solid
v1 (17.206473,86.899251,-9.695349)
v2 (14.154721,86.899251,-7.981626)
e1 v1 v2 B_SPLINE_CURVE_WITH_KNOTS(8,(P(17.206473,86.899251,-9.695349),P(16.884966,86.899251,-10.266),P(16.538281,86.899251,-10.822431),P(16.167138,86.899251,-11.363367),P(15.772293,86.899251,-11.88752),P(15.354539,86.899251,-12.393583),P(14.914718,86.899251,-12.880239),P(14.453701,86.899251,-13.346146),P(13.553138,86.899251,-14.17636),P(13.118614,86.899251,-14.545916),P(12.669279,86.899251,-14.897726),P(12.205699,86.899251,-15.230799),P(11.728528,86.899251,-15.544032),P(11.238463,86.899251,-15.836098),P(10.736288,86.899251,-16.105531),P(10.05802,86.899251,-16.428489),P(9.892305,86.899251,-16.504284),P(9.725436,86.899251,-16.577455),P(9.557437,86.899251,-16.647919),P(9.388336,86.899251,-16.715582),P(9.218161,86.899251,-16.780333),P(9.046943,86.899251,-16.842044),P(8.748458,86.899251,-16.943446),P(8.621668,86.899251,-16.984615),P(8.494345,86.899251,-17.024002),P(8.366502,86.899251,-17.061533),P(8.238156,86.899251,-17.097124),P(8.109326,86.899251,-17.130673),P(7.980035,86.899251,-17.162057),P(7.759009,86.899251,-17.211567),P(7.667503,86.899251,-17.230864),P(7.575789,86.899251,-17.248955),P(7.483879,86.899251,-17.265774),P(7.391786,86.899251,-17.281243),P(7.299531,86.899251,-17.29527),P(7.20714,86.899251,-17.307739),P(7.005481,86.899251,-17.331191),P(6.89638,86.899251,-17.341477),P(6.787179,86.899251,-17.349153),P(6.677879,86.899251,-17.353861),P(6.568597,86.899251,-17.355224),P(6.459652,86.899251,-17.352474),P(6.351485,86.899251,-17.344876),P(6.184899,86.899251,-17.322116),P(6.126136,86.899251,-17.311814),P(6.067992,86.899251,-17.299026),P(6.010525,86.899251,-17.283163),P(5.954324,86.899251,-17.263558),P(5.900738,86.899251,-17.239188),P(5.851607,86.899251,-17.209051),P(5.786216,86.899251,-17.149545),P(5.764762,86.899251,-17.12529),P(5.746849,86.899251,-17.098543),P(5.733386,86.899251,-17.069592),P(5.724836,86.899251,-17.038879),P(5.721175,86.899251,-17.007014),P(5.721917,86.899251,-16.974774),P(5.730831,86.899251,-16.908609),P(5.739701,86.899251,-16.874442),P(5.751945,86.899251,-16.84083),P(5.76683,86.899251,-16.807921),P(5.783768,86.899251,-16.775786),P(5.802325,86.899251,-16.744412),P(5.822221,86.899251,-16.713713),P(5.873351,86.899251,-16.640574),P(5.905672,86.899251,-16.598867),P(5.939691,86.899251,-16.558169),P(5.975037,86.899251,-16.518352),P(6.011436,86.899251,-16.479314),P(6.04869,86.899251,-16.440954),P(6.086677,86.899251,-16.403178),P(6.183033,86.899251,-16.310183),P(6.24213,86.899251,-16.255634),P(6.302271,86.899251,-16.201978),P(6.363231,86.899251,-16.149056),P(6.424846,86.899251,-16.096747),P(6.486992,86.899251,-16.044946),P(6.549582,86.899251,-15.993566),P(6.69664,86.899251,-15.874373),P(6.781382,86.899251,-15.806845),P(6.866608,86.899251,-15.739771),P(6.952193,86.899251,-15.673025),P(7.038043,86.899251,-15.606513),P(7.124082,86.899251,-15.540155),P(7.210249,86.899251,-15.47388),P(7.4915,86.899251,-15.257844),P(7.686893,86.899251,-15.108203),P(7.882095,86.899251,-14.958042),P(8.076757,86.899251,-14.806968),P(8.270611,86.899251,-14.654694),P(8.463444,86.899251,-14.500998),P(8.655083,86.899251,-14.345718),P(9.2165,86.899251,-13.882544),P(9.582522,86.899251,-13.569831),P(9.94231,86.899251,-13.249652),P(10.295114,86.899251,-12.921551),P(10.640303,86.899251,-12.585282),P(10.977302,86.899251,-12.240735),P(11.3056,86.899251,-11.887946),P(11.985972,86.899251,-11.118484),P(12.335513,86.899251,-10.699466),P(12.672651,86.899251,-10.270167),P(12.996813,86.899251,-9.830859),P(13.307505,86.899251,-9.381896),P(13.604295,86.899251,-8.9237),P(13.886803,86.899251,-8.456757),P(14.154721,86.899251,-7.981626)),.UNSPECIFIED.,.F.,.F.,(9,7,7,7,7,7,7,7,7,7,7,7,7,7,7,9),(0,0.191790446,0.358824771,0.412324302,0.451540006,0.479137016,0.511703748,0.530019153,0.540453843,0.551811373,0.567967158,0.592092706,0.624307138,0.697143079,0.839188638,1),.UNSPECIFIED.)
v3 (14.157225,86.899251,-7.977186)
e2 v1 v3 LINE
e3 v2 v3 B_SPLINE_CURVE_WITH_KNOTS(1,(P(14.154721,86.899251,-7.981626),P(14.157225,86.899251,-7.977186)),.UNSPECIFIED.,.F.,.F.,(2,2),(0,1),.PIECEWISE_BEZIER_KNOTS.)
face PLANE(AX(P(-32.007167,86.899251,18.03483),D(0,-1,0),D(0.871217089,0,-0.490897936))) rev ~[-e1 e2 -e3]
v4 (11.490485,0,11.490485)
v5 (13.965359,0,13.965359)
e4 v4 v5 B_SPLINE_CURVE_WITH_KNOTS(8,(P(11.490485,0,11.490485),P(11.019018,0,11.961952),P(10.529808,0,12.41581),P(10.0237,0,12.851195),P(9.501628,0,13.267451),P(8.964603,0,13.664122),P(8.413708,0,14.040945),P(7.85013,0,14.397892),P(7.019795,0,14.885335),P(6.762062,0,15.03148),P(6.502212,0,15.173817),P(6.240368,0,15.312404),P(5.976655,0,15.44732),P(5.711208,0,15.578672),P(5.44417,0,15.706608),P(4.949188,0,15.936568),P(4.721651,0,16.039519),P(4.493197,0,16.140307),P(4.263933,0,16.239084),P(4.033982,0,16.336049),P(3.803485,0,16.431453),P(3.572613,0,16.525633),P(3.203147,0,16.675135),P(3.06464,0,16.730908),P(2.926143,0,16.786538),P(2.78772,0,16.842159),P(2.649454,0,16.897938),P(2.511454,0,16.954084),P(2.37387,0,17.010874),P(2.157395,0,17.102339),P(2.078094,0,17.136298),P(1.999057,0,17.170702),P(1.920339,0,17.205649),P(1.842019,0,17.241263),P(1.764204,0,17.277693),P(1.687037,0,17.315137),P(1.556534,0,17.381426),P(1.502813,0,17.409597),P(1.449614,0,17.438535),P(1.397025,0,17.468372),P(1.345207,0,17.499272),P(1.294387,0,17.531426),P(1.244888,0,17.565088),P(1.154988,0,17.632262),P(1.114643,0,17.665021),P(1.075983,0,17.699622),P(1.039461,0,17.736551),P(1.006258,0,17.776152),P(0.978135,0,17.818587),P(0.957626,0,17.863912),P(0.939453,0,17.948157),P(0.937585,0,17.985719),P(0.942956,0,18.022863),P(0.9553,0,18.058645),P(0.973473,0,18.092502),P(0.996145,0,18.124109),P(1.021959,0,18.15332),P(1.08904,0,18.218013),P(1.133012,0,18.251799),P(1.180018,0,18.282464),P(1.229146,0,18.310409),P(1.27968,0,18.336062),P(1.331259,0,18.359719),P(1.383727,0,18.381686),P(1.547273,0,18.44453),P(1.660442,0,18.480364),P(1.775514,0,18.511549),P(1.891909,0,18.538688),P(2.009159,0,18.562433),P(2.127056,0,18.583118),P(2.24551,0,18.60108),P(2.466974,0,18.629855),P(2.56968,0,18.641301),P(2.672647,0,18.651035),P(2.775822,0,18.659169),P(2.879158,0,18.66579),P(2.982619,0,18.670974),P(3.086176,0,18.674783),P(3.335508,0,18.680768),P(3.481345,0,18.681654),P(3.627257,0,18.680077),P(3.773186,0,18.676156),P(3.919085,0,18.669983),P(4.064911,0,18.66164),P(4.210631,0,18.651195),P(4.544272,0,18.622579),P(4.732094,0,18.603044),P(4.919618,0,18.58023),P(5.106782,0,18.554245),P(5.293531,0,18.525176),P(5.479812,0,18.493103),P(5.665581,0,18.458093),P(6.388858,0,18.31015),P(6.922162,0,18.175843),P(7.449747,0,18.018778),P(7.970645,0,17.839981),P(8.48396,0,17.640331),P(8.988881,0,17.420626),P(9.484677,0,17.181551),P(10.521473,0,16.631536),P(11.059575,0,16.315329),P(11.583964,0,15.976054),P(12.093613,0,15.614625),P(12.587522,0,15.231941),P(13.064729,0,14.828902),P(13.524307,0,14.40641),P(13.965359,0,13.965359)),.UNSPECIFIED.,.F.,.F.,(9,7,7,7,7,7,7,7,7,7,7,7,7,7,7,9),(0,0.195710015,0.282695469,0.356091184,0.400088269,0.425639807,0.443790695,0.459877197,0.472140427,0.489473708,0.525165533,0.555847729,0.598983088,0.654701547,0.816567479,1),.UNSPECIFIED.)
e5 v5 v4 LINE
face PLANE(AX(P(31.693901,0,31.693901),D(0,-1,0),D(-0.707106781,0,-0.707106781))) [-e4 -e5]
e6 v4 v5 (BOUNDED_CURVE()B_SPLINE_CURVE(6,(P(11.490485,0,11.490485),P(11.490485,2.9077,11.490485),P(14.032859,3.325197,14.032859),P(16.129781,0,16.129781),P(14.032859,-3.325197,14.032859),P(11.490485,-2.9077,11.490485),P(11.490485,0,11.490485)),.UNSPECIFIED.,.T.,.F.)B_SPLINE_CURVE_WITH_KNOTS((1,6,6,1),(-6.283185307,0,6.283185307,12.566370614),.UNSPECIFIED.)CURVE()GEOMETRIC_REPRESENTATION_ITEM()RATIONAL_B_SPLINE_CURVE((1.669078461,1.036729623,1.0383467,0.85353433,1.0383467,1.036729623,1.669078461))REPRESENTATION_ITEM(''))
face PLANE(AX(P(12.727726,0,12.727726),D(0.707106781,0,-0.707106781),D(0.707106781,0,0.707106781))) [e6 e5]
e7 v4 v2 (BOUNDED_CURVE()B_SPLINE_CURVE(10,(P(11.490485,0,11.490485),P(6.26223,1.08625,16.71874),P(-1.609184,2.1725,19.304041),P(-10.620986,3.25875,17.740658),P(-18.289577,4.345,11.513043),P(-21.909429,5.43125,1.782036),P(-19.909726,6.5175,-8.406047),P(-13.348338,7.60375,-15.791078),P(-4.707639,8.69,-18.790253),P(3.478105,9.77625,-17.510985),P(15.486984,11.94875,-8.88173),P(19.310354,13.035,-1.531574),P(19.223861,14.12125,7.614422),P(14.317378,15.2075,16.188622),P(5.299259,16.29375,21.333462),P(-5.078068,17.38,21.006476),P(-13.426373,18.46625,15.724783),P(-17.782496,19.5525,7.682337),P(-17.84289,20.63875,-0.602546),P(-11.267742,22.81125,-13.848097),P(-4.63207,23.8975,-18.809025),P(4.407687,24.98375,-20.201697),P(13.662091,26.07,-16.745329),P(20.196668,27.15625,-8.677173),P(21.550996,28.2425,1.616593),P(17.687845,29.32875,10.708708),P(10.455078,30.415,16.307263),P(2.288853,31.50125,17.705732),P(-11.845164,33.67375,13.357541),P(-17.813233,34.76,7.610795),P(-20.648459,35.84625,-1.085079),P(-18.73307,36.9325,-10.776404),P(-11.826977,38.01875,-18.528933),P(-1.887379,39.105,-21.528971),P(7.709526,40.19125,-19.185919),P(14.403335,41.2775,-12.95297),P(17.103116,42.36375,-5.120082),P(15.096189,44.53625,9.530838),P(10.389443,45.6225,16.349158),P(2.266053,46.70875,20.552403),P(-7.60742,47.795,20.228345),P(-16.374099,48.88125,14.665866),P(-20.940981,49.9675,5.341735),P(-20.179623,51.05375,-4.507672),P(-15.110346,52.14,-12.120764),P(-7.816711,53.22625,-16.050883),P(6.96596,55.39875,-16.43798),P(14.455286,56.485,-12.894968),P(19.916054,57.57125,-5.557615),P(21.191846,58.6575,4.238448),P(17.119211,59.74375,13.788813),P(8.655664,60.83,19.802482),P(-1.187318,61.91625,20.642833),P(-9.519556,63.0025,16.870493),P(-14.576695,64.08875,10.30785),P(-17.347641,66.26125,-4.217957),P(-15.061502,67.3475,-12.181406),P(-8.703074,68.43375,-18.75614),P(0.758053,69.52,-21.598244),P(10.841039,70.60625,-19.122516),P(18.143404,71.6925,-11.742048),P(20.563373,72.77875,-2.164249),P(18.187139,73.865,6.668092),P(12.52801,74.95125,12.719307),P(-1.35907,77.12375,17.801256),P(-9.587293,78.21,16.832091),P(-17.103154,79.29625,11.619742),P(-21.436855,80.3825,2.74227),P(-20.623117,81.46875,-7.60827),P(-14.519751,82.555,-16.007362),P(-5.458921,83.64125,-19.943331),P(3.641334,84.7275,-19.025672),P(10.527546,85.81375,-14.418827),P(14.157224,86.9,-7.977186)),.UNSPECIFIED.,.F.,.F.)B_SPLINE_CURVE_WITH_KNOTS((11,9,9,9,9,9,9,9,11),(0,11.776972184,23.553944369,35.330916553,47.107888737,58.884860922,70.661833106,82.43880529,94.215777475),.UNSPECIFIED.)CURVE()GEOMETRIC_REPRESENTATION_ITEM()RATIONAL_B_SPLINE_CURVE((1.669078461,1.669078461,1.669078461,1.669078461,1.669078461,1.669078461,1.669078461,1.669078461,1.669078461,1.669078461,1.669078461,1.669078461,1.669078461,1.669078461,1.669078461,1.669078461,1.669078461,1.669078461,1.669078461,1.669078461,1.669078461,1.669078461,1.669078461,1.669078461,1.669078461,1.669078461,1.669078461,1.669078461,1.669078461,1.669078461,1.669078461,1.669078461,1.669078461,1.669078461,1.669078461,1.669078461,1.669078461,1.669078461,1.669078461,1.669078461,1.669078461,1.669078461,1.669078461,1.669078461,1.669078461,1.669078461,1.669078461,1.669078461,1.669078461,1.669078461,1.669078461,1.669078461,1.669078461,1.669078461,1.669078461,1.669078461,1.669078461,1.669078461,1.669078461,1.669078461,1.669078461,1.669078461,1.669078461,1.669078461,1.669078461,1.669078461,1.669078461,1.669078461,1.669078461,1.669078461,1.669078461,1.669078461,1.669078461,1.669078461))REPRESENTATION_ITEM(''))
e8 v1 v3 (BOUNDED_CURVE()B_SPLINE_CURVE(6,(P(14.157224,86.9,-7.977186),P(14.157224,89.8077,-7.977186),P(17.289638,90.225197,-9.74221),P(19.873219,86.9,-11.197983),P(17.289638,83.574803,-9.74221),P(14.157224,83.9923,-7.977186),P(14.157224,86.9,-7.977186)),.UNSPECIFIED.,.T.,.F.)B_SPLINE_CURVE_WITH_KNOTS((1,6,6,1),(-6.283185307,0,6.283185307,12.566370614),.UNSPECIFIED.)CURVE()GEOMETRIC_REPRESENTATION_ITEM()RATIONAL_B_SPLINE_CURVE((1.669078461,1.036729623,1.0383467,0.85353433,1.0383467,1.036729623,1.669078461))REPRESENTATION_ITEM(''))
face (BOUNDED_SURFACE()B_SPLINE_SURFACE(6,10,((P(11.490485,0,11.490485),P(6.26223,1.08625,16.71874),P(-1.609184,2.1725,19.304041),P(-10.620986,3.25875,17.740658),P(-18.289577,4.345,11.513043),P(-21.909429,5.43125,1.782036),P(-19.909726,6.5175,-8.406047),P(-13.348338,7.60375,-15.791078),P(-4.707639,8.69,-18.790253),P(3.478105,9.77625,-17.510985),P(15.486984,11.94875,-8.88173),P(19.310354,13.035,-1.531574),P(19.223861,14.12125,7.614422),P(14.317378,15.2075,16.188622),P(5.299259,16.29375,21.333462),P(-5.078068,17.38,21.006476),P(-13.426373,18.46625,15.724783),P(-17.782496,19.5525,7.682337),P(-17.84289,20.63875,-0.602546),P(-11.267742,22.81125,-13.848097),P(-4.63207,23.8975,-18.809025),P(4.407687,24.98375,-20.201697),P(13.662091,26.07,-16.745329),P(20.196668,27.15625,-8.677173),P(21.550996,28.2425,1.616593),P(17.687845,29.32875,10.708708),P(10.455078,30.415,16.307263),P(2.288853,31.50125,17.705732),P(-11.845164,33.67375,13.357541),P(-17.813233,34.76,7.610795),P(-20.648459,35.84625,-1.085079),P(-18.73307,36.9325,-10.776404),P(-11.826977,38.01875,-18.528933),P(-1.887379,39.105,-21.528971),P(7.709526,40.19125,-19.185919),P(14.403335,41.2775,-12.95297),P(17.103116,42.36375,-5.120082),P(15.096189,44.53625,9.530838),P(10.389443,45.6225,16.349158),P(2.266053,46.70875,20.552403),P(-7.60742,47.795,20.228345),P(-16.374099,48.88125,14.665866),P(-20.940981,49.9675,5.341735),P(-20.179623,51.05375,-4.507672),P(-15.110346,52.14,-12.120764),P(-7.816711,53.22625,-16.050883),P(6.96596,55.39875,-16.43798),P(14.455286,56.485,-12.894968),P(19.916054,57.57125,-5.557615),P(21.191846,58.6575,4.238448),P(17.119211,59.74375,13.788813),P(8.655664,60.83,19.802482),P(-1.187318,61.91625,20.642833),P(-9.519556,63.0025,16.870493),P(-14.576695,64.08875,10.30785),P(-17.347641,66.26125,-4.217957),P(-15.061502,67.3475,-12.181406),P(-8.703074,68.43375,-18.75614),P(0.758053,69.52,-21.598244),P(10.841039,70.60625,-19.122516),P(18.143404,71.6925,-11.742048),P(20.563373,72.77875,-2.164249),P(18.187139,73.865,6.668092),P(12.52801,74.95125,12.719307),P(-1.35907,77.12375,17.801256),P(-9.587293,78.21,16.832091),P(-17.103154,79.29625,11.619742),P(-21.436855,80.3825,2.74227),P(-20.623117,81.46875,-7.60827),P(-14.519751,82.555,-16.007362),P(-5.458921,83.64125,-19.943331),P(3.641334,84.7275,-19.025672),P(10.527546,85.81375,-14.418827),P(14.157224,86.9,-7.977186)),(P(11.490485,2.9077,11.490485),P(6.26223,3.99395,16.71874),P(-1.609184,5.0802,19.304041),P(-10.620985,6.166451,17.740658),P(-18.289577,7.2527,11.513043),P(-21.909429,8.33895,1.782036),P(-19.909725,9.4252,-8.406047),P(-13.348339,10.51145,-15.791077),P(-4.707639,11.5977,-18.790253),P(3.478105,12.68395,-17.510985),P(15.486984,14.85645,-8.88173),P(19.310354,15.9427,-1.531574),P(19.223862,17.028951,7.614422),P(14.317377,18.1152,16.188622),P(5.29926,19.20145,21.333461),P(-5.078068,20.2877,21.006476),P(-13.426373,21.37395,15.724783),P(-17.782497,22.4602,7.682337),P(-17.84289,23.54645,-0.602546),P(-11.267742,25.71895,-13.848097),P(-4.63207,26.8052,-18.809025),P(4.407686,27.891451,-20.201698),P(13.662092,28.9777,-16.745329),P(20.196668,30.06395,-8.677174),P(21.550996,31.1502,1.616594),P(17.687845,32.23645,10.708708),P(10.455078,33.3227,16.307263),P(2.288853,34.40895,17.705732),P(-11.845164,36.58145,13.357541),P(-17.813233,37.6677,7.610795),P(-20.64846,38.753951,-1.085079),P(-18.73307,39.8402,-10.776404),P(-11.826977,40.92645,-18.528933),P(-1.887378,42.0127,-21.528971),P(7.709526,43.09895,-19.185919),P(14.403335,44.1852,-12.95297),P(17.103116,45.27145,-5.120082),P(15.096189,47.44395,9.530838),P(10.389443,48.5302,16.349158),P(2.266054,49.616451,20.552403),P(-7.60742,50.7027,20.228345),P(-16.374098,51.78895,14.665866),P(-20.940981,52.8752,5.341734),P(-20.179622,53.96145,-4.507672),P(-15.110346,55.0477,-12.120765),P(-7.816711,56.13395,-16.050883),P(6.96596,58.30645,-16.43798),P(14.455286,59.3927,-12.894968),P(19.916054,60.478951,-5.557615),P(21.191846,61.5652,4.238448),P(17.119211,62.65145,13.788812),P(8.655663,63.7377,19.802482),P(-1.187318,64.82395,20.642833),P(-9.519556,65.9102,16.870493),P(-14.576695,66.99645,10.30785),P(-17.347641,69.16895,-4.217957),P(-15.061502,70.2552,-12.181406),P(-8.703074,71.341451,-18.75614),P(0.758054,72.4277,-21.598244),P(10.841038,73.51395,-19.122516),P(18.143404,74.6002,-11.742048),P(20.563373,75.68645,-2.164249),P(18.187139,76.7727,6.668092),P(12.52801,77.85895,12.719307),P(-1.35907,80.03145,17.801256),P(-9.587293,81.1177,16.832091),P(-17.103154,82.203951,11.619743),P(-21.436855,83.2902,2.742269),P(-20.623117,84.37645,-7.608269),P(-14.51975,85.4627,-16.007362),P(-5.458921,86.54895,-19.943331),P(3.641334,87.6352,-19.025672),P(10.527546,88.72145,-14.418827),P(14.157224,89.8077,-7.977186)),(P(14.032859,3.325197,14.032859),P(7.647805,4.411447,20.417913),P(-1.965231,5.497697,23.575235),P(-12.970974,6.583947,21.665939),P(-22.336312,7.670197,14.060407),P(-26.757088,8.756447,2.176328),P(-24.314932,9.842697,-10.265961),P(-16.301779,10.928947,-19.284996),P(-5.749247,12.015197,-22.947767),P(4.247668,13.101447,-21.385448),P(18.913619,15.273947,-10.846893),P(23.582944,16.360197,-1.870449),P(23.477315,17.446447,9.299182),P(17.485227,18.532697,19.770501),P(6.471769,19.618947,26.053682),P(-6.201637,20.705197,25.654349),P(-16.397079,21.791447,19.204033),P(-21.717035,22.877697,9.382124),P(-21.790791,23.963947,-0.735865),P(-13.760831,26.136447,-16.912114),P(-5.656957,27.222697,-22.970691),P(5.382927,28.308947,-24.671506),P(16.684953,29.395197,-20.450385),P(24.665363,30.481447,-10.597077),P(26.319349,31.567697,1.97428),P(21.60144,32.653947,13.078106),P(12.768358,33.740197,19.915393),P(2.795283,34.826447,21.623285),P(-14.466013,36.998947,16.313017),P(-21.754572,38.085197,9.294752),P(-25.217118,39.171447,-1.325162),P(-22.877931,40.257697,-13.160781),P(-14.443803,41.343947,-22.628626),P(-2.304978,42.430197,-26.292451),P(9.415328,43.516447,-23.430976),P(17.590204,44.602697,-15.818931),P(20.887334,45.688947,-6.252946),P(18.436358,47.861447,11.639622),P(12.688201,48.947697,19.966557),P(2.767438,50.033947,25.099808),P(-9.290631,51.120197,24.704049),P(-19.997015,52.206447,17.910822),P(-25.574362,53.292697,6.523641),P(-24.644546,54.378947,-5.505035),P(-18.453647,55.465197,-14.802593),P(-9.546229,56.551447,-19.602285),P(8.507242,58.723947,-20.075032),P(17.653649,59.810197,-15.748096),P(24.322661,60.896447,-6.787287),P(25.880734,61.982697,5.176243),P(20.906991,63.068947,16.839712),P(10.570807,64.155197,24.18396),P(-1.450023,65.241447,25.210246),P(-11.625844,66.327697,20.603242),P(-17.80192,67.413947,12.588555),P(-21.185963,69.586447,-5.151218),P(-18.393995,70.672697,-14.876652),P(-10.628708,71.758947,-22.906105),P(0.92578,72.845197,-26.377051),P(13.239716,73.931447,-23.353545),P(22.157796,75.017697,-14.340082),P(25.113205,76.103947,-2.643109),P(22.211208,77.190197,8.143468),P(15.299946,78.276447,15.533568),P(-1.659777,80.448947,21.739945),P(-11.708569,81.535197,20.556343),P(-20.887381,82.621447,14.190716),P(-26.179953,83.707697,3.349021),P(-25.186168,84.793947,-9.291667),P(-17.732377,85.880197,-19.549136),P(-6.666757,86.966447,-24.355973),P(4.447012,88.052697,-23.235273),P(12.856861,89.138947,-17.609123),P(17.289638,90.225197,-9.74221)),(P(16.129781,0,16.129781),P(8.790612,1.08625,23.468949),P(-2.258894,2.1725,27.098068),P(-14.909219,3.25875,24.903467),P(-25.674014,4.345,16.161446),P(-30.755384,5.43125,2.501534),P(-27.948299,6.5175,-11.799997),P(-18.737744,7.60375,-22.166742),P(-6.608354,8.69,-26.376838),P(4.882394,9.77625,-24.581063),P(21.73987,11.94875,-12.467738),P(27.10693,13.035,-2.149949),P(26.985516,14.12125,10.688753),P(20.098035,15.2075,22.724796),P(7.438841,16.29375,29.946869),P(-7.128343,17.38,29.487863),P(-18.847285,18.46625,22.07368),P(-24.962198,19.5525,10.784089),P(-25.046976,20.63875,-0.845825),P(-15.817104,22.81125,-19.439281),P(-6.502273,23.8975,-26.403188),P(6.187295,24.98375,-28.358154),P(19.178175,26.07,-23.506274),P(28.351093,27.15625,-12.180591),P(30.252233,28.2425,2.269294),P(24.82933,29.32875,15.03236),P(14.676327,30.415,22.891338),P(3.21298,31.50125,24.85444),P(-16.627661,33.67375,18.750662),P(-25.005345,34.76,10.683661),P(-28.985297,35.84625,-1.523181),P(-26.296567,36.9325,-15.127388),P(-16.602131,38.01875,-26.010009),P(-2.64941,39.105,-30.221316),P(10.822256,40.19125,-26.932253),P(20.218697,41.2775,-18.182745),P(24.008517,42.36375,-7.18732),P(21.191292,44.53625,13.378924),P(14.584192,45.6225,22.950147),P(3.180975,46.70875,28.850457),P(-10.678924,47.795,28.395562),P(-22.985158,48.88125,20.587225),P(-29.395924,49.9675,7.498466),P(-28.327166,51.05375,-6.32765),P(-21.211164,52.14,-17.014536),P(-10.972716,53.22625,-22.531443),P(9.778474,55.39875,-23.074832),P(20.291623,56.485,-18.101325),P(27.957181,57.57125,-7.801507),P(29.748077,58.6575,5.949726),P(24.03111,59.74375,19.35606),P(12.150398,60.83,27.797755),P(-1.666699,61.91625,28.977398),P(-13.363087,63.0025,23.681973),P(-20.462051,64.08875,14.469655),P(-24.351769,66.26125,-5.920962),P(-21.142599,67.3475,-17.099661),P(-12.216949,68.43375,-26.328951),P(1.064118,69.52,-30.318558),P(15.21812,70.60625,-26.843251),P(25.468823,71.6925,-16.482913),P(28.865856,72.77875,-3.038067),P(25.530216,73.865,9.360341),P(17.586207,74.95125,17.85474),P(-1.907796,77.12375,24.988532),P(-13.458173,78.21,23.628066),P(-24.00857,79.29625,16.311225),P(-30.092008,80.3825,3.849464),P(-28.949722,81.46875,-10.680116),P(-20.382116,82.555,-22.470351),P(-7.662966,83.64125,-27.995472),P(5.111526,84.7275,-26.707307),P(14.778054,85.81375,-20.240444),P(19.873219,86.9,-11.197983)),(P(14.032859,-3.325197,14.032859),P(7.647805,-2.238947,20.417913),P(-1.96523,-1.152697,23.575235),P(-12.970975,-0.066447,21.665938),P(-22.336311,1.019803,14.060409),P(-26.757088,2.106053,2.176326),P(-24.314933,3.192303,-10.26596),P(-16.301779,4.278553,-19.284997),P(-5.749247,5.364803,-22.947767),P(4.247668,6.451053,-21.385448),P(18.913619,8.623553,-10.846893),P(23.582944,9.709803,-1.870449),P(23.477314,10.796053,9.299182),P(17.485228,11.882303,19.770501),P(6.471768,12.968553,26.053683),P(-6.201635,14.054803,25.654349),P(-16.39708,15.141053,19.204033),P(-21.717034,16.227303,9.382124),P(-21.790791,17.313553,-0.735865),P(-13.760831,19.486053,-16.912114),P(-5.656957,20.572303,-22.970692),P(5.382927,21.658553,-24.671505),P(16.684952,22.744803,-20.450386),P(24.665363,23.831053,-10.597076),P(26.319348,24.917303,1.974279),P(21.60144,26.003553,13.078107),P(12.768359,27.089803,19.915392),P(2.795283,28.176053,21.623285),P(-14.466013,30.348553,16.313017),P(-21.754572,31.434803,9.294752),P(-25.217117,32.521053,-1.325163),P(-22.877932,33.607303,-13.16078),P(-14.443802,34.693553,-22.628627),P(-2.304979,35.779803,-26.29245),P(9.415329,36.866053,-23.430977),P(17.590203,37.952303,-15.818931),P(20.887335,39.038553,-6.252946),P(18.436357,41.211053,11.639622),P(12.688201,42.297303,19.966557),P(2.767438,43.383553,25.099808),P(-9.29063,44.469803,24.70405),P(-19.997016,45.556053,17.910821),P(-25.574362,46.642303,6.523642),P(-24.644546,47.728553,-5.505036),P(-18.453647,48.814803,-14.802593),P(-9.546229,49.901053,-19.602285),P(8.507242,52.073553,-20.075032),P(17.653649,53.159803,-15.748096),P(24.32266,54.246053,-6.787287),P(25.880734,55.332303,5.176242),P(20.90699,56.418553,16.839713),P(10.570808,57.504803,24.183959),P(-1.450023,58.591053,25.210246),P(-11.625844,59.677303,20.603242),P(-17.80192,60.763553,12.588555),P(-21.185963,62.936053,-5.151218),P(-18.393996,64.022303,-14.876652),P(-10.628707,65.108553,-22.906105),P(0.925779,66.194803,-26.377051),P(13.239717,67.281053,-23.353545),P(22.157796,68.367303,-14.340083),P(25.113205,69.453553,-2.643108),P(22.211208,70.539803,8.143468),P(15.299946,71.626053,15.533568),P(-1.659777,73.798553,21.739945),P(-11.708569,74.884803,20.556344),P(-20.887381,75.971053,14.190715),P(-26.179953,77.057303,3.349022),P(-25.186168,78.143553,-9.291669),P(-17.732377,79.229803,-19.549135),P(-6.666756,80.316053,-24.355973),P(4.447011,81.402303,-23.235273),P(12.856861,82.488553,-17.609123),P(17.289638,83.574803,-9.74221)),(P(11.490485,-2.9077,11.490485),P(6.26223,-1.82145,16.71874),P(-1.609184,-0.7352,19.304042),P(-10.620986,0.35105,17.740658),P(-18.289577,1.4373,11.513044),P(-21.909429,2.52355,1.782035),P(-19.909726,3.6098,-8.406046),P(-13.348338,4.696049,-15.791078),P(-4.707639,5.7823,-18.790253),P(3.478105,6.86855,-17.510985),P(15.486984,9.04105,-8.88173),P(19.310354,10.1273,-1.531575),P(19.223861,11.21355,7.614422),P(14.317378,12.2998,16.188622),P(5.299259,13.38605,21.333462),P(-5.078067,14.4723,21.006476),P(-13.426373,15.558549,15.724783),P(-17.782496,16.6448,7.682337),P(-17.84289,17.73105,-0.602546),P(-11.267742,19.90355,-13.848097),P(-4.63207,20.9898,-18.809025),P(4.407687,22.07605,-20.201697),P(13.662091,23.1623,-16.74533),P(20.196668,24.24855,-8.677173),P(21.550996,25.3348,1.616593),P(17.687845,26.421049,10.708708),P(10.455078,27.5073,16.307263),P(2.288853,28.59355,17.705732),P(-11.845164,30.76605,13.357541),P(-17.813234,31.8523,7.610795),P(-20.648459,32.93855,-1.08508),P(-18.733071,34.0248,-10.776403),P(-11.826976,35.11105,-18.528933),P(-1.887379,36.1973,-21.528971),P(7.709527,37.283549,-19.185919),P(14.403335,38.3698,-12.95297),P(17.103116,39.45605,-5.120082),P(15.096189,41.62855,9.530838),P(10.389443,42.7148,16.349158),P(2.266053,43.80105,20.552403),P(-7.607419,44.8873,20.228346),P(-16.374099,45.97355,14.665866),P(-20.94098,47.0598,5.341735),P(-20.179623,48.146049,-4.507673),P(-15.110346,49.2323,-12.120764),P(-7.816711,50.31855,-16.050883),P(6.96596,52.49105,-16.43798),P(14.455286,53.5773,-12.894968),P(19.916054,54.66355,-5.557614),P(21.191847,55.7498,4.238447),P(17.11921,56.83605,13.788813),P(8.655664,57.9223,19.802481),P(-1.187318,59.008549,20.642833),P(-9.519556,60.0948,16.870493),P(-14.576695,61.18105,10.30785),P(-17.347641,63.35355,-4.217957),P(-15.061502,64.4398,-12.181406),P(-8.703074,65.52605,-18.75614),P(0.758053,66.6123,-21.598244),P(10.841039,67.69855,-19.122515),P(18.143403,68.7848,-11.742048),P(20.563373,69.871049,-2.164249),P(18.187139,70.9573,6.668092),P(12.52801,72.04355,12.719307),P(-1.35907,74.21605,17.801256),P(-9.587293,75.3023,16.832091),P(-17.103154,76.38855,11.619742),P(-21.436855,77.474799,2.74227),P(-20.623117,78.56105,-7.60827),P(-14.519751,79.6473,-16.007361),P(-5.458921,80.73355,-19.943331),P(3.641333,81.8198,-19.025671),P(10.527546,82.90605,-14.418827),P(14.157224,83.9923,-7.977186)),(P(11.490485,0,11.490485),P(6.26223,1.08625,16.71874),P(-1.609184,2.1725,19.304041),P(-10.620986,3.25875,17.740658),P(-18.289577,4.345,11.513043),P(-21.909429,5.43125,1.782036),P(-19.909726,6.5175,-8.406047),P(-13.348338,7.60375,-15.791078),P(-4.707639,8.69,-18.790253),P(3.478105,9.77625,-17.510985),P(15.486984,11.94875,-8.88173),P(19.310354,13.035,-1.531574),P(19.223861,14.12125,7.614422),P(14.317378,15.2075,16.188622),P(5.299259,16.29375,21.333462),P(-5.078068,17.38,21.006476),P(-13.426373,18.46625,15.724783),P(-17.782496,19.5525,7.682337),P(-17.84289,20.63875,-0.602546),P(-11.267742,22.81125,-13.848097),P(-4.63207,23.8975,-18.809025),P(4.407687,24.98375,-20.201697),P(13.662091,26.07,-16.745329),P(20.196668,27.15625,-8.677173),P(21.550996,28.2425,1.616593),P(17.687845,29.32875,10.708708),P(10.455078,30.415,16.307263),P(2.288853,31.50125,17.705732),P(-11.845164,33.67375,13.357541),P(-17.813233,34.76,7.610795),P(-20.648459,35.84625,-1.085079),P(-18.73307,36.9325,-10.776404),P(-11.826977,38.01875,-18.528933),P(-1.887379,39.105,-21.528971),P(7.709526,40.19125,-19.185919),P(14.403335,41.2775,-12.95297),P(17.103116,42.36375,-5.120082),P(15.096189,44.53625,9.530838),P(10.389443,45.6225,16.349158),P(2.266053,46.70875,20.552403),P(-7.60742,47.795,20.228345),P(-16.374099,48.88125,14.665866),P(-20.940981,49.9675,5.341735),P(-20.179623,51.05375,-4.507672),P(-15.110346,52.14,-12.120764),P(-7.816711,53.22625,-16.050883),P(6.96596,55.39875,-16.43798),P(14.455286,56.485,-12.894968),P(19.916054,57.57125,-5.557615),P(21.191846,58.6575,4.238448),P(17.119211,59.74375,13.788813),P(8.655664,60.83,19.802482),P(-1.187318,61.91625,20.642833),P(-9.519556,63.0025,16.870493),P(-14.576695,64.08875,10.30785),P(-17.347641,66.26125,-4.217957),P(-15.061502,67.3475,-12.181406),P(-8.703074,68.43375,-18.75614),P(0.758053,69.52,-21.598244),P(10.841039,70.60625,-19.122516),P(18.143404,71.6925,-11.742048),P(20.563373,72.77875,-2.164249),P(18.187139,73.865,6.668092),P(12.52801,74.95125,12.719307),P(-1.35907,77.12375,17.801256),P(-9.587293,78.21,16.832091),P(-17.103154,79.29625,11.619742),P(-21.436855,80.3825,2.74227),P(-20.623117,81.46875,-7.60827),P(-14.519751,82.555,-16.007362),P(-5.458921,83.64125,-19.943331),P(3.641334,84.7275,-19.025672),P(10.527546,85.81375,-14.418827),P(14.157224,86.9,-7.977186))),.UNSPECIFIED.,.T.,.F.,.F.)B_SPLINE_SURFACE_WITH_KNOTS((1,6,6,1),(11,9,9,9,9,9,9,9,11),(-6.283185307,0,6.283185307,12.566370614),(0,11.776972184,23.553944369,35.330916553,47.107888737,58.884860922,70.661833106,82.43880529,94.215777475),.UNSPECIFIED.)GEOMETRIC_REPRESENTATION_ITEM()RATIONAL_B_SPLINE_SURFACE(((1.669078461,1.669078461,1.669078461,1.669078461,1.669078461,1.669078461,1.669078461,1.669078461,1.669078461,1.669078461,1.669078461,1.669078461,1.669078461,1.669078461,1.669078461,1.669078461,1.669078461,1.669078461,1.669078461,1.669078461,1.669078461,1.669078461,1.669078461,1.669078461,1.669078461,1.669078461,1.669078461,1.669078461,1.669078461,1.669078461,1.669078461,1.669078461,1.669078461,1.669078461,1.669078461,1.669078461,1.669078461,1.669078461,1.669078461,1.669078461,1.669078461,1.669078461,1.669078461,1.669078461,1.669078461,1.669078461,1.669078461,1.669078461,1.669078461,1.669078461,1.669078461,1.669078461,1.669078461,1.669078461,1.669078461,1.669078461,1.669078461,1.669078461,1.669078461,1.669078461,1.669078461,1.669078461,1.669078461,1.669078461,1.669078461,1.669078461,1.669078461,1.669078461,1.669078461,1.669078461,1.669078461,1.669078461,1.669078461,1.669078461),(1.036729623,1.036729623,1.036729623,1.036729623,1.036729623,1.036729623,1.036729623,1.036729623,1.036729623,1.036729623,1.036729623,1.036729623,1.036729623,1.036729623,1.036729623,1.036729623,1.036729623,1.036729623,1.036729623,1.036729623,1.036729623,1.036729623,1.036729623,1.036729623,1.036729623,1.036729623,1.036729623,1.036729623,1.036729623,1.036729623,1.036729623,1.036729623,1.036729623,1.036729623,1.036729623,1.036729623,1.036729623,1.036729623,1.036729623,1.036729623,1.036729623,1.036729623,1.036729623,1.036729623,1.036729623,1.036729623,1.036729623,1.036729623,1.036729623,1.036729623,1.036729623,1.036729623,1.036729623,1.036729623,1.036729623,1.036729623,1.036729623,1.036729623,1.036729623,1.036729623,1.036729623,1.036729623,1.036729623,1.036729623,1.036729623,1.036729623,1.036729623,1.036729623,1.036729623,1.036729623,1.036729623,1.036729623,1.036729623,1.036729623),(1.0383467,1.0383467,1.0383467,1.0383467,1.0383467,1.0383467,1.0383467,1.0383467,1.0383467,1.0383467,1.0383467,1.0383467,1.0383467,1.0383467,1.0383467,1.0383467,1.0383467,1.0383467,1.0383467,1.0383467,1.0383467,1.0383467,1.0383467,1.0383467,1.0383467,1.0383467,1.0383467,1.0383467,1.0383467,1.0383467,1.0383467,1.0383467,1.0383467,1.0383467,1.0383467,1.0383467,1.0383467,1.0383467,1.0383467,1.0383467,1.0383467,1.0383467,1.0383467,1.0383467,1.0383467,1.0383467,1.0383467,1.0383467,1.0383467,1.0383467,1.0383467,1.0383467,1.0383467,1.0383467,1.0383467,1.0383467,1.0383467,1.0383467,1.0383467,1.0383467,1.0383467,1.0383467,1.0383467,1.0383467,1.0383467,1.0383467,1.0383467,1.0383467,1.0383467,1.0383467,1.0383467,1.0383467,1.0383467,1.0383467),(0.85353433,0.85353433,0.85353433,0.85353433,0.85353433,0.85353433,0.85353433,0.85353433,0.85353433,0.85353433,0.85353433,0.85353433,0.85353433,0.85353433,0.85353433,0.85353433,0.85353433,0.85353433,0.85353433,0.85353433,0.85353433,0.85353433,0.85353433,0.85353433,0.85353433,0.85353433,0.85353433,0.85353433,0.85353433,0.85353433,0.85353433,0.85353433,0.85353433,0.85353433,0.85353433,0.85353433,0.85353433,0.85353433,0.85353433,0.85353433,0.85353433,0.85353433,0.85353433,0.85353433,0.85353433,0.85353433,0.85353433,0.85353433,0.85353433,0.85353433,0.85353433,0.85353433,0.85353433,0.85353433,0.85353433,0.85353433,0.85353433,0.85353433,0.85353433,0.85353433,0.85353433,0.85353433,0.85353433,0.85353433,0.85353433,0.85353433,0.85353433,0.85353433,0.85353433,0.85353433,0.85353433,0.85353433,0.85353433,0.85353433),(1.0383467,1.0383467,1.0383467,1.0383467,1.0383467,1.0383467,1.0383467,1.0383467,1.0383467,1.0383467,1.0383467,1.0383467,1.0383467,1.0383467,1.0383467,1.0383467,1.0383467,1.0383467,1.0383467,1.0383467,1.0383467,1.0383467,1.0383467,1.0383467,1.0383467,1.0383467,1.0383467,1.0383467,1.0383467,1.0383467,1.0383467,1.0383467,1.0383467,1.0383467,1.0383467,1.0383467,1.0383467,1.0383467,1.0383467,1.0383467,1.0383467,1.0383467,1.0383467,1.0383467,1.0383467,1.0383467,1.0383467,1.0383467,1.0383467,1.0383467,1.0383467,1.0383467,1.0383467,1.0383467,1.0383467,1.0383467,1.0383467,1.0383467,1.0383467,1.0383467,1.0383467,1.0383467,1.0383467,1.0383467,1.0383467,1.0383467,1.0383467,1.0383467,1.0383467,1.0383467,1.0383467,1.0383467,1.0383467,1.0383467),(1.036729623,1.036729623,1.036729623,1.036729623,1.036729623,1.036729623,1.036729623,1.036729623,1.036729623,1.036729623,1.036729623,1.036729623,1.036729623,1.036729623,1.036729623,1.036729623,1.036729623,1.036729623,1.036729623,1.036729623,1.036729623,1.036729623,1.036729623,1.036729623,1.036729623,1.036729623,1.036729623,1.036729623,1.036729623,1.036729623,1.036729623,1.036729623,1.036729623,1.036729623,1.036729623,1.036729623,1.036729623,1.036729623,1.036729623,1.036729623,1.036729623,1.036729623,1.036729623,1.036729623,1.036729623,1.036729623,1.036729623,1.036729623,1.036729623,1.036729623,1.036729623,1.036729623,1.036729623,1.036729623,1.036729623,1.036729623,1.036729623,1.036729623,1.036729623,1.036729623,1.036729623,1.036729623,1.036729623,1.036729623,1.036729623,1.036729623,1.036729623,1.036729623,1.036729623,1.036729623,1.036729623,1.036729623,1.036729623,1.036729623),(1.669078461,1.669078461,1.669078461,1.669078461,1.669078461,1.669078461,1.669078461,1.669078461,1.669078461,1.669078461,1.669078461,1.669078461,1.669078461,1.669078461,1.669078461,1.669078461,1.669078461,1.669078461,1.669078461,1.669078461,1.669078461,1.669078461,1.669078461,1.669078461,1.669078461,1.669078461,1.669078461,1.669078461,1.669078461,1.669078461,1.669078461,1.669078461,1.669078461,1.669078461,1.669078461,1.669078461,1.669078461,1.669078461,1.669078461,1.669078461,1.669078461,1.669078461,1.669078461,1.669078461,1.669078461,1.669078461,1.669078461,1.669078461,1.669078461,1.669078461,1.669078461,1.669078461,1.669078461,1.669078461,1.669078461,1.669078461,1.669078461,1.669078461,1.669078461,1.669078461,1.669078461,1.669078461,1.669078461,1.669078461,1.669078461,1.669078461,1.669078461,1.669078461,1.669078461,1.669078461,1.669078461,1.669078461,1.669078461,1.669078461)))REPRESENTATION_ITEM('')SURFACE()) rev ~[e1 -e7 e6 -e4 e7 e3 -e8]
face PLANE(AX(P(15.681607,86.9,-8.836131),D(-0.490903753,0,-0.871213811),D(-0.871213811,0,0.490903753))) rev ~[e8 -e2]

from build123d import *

# Parameters (mm, degrees)
WYCI_GNI_CIE_PO_CIE_CE1_PITCH       = 15
WYCI_GNI_CIE_PO_CIE_CE1_HEIGHT      = 86.9
WYCI_GNI_CIE_PO_CIE_CE1_RADIUS      = 18
WYCI_GNI_CIE_PO_CIE_CE1_START_ANGLE = 45
SZKIC3_R                            = 1.75
SZKIC4_W                            = 85.056572459
SZKIC4_H                            = 48.579847932
WYTNIJ_WYCI_GNI_CIE1_DEPTH          = 55
SZKIC5_W                            = 89.93480105
SZKIC5_H                            = 13.509916719
WYTNIJ_WYCI_GNI_CIE2_DEPTH          = 55


with BuildPart() as part:
    # Wyciągnięcie po ścieżce1: sweep along a helix
    with BuildLine() as wyci_gni_cie_po_cie_ce1_path:
        add(Helix(WYCI_GNI_CIE_PO_CIE_CE1_PITCH, WYCI_GNI_CIE_PO_CIE_CE1_HEIGHT, WYCI_GNI_CIE_PO_CIE_CE1_RADIUS, center=(0, 0, 0), direction=(0, 1, 0), lefthand=True, mode=Mode.PRIVATE).rotate(Axis((0, 0, 0), (0, 1, 0)), WYCI_GNI_CIE_PO_CIE_CE1_START_ANGLE))
    # Szkic3 → Wyciągnięcie po ścieżce1 (sweep)
    with BuildSketch(Plane(origin=(0, 0, 0), x_dir=(-0.707106781, 0, -0.707106781), z_dir=(0.707106781, 0, -0.707106781))):
        with Locations((-18, 0)):
            Circle(SZKIC3_R)
    sweep(path=wyci_gni_cie_po_cie_ce1_path.line, is_frenet=True)

    # Szkic4 → Wytnij-wyciągnięcie1 (cut)
    with BuildSketch(Plane(origin=(0, 0, 0), x_dir=(0.871217089, 0, -0.490897936), z_dir=(0.490897936, 0, 0.871217089))):
        with Locations((5.789834219, 111.189175121)):
            Rectangle(SZKIC4_W, SZKIC4_H)
    extrude(amount=-WYTNIJ_WYCI_GNI_CIE1_DEPTH, mode=Mode.SUBTRACT)

    # Szkic5 → Wytnij-wyciągnięcie2 (cut)
    with BuildSketch(Plane(origin=(0, 0, 0), x_dir=(-0.707106781, 0, -0.707106781), z_dir=(0.707106781, 0, -0.707106781))):
        with Locations((0.14545599, -6.75495836)):
            Rectangle(SZKIC5_W, SZKIC5_H)
    extrude(amount=-WYTNIJ_WYCI_GNI_CIE2_DEPTH, mode=Mode.SUBTRACT)


solid = part.part
